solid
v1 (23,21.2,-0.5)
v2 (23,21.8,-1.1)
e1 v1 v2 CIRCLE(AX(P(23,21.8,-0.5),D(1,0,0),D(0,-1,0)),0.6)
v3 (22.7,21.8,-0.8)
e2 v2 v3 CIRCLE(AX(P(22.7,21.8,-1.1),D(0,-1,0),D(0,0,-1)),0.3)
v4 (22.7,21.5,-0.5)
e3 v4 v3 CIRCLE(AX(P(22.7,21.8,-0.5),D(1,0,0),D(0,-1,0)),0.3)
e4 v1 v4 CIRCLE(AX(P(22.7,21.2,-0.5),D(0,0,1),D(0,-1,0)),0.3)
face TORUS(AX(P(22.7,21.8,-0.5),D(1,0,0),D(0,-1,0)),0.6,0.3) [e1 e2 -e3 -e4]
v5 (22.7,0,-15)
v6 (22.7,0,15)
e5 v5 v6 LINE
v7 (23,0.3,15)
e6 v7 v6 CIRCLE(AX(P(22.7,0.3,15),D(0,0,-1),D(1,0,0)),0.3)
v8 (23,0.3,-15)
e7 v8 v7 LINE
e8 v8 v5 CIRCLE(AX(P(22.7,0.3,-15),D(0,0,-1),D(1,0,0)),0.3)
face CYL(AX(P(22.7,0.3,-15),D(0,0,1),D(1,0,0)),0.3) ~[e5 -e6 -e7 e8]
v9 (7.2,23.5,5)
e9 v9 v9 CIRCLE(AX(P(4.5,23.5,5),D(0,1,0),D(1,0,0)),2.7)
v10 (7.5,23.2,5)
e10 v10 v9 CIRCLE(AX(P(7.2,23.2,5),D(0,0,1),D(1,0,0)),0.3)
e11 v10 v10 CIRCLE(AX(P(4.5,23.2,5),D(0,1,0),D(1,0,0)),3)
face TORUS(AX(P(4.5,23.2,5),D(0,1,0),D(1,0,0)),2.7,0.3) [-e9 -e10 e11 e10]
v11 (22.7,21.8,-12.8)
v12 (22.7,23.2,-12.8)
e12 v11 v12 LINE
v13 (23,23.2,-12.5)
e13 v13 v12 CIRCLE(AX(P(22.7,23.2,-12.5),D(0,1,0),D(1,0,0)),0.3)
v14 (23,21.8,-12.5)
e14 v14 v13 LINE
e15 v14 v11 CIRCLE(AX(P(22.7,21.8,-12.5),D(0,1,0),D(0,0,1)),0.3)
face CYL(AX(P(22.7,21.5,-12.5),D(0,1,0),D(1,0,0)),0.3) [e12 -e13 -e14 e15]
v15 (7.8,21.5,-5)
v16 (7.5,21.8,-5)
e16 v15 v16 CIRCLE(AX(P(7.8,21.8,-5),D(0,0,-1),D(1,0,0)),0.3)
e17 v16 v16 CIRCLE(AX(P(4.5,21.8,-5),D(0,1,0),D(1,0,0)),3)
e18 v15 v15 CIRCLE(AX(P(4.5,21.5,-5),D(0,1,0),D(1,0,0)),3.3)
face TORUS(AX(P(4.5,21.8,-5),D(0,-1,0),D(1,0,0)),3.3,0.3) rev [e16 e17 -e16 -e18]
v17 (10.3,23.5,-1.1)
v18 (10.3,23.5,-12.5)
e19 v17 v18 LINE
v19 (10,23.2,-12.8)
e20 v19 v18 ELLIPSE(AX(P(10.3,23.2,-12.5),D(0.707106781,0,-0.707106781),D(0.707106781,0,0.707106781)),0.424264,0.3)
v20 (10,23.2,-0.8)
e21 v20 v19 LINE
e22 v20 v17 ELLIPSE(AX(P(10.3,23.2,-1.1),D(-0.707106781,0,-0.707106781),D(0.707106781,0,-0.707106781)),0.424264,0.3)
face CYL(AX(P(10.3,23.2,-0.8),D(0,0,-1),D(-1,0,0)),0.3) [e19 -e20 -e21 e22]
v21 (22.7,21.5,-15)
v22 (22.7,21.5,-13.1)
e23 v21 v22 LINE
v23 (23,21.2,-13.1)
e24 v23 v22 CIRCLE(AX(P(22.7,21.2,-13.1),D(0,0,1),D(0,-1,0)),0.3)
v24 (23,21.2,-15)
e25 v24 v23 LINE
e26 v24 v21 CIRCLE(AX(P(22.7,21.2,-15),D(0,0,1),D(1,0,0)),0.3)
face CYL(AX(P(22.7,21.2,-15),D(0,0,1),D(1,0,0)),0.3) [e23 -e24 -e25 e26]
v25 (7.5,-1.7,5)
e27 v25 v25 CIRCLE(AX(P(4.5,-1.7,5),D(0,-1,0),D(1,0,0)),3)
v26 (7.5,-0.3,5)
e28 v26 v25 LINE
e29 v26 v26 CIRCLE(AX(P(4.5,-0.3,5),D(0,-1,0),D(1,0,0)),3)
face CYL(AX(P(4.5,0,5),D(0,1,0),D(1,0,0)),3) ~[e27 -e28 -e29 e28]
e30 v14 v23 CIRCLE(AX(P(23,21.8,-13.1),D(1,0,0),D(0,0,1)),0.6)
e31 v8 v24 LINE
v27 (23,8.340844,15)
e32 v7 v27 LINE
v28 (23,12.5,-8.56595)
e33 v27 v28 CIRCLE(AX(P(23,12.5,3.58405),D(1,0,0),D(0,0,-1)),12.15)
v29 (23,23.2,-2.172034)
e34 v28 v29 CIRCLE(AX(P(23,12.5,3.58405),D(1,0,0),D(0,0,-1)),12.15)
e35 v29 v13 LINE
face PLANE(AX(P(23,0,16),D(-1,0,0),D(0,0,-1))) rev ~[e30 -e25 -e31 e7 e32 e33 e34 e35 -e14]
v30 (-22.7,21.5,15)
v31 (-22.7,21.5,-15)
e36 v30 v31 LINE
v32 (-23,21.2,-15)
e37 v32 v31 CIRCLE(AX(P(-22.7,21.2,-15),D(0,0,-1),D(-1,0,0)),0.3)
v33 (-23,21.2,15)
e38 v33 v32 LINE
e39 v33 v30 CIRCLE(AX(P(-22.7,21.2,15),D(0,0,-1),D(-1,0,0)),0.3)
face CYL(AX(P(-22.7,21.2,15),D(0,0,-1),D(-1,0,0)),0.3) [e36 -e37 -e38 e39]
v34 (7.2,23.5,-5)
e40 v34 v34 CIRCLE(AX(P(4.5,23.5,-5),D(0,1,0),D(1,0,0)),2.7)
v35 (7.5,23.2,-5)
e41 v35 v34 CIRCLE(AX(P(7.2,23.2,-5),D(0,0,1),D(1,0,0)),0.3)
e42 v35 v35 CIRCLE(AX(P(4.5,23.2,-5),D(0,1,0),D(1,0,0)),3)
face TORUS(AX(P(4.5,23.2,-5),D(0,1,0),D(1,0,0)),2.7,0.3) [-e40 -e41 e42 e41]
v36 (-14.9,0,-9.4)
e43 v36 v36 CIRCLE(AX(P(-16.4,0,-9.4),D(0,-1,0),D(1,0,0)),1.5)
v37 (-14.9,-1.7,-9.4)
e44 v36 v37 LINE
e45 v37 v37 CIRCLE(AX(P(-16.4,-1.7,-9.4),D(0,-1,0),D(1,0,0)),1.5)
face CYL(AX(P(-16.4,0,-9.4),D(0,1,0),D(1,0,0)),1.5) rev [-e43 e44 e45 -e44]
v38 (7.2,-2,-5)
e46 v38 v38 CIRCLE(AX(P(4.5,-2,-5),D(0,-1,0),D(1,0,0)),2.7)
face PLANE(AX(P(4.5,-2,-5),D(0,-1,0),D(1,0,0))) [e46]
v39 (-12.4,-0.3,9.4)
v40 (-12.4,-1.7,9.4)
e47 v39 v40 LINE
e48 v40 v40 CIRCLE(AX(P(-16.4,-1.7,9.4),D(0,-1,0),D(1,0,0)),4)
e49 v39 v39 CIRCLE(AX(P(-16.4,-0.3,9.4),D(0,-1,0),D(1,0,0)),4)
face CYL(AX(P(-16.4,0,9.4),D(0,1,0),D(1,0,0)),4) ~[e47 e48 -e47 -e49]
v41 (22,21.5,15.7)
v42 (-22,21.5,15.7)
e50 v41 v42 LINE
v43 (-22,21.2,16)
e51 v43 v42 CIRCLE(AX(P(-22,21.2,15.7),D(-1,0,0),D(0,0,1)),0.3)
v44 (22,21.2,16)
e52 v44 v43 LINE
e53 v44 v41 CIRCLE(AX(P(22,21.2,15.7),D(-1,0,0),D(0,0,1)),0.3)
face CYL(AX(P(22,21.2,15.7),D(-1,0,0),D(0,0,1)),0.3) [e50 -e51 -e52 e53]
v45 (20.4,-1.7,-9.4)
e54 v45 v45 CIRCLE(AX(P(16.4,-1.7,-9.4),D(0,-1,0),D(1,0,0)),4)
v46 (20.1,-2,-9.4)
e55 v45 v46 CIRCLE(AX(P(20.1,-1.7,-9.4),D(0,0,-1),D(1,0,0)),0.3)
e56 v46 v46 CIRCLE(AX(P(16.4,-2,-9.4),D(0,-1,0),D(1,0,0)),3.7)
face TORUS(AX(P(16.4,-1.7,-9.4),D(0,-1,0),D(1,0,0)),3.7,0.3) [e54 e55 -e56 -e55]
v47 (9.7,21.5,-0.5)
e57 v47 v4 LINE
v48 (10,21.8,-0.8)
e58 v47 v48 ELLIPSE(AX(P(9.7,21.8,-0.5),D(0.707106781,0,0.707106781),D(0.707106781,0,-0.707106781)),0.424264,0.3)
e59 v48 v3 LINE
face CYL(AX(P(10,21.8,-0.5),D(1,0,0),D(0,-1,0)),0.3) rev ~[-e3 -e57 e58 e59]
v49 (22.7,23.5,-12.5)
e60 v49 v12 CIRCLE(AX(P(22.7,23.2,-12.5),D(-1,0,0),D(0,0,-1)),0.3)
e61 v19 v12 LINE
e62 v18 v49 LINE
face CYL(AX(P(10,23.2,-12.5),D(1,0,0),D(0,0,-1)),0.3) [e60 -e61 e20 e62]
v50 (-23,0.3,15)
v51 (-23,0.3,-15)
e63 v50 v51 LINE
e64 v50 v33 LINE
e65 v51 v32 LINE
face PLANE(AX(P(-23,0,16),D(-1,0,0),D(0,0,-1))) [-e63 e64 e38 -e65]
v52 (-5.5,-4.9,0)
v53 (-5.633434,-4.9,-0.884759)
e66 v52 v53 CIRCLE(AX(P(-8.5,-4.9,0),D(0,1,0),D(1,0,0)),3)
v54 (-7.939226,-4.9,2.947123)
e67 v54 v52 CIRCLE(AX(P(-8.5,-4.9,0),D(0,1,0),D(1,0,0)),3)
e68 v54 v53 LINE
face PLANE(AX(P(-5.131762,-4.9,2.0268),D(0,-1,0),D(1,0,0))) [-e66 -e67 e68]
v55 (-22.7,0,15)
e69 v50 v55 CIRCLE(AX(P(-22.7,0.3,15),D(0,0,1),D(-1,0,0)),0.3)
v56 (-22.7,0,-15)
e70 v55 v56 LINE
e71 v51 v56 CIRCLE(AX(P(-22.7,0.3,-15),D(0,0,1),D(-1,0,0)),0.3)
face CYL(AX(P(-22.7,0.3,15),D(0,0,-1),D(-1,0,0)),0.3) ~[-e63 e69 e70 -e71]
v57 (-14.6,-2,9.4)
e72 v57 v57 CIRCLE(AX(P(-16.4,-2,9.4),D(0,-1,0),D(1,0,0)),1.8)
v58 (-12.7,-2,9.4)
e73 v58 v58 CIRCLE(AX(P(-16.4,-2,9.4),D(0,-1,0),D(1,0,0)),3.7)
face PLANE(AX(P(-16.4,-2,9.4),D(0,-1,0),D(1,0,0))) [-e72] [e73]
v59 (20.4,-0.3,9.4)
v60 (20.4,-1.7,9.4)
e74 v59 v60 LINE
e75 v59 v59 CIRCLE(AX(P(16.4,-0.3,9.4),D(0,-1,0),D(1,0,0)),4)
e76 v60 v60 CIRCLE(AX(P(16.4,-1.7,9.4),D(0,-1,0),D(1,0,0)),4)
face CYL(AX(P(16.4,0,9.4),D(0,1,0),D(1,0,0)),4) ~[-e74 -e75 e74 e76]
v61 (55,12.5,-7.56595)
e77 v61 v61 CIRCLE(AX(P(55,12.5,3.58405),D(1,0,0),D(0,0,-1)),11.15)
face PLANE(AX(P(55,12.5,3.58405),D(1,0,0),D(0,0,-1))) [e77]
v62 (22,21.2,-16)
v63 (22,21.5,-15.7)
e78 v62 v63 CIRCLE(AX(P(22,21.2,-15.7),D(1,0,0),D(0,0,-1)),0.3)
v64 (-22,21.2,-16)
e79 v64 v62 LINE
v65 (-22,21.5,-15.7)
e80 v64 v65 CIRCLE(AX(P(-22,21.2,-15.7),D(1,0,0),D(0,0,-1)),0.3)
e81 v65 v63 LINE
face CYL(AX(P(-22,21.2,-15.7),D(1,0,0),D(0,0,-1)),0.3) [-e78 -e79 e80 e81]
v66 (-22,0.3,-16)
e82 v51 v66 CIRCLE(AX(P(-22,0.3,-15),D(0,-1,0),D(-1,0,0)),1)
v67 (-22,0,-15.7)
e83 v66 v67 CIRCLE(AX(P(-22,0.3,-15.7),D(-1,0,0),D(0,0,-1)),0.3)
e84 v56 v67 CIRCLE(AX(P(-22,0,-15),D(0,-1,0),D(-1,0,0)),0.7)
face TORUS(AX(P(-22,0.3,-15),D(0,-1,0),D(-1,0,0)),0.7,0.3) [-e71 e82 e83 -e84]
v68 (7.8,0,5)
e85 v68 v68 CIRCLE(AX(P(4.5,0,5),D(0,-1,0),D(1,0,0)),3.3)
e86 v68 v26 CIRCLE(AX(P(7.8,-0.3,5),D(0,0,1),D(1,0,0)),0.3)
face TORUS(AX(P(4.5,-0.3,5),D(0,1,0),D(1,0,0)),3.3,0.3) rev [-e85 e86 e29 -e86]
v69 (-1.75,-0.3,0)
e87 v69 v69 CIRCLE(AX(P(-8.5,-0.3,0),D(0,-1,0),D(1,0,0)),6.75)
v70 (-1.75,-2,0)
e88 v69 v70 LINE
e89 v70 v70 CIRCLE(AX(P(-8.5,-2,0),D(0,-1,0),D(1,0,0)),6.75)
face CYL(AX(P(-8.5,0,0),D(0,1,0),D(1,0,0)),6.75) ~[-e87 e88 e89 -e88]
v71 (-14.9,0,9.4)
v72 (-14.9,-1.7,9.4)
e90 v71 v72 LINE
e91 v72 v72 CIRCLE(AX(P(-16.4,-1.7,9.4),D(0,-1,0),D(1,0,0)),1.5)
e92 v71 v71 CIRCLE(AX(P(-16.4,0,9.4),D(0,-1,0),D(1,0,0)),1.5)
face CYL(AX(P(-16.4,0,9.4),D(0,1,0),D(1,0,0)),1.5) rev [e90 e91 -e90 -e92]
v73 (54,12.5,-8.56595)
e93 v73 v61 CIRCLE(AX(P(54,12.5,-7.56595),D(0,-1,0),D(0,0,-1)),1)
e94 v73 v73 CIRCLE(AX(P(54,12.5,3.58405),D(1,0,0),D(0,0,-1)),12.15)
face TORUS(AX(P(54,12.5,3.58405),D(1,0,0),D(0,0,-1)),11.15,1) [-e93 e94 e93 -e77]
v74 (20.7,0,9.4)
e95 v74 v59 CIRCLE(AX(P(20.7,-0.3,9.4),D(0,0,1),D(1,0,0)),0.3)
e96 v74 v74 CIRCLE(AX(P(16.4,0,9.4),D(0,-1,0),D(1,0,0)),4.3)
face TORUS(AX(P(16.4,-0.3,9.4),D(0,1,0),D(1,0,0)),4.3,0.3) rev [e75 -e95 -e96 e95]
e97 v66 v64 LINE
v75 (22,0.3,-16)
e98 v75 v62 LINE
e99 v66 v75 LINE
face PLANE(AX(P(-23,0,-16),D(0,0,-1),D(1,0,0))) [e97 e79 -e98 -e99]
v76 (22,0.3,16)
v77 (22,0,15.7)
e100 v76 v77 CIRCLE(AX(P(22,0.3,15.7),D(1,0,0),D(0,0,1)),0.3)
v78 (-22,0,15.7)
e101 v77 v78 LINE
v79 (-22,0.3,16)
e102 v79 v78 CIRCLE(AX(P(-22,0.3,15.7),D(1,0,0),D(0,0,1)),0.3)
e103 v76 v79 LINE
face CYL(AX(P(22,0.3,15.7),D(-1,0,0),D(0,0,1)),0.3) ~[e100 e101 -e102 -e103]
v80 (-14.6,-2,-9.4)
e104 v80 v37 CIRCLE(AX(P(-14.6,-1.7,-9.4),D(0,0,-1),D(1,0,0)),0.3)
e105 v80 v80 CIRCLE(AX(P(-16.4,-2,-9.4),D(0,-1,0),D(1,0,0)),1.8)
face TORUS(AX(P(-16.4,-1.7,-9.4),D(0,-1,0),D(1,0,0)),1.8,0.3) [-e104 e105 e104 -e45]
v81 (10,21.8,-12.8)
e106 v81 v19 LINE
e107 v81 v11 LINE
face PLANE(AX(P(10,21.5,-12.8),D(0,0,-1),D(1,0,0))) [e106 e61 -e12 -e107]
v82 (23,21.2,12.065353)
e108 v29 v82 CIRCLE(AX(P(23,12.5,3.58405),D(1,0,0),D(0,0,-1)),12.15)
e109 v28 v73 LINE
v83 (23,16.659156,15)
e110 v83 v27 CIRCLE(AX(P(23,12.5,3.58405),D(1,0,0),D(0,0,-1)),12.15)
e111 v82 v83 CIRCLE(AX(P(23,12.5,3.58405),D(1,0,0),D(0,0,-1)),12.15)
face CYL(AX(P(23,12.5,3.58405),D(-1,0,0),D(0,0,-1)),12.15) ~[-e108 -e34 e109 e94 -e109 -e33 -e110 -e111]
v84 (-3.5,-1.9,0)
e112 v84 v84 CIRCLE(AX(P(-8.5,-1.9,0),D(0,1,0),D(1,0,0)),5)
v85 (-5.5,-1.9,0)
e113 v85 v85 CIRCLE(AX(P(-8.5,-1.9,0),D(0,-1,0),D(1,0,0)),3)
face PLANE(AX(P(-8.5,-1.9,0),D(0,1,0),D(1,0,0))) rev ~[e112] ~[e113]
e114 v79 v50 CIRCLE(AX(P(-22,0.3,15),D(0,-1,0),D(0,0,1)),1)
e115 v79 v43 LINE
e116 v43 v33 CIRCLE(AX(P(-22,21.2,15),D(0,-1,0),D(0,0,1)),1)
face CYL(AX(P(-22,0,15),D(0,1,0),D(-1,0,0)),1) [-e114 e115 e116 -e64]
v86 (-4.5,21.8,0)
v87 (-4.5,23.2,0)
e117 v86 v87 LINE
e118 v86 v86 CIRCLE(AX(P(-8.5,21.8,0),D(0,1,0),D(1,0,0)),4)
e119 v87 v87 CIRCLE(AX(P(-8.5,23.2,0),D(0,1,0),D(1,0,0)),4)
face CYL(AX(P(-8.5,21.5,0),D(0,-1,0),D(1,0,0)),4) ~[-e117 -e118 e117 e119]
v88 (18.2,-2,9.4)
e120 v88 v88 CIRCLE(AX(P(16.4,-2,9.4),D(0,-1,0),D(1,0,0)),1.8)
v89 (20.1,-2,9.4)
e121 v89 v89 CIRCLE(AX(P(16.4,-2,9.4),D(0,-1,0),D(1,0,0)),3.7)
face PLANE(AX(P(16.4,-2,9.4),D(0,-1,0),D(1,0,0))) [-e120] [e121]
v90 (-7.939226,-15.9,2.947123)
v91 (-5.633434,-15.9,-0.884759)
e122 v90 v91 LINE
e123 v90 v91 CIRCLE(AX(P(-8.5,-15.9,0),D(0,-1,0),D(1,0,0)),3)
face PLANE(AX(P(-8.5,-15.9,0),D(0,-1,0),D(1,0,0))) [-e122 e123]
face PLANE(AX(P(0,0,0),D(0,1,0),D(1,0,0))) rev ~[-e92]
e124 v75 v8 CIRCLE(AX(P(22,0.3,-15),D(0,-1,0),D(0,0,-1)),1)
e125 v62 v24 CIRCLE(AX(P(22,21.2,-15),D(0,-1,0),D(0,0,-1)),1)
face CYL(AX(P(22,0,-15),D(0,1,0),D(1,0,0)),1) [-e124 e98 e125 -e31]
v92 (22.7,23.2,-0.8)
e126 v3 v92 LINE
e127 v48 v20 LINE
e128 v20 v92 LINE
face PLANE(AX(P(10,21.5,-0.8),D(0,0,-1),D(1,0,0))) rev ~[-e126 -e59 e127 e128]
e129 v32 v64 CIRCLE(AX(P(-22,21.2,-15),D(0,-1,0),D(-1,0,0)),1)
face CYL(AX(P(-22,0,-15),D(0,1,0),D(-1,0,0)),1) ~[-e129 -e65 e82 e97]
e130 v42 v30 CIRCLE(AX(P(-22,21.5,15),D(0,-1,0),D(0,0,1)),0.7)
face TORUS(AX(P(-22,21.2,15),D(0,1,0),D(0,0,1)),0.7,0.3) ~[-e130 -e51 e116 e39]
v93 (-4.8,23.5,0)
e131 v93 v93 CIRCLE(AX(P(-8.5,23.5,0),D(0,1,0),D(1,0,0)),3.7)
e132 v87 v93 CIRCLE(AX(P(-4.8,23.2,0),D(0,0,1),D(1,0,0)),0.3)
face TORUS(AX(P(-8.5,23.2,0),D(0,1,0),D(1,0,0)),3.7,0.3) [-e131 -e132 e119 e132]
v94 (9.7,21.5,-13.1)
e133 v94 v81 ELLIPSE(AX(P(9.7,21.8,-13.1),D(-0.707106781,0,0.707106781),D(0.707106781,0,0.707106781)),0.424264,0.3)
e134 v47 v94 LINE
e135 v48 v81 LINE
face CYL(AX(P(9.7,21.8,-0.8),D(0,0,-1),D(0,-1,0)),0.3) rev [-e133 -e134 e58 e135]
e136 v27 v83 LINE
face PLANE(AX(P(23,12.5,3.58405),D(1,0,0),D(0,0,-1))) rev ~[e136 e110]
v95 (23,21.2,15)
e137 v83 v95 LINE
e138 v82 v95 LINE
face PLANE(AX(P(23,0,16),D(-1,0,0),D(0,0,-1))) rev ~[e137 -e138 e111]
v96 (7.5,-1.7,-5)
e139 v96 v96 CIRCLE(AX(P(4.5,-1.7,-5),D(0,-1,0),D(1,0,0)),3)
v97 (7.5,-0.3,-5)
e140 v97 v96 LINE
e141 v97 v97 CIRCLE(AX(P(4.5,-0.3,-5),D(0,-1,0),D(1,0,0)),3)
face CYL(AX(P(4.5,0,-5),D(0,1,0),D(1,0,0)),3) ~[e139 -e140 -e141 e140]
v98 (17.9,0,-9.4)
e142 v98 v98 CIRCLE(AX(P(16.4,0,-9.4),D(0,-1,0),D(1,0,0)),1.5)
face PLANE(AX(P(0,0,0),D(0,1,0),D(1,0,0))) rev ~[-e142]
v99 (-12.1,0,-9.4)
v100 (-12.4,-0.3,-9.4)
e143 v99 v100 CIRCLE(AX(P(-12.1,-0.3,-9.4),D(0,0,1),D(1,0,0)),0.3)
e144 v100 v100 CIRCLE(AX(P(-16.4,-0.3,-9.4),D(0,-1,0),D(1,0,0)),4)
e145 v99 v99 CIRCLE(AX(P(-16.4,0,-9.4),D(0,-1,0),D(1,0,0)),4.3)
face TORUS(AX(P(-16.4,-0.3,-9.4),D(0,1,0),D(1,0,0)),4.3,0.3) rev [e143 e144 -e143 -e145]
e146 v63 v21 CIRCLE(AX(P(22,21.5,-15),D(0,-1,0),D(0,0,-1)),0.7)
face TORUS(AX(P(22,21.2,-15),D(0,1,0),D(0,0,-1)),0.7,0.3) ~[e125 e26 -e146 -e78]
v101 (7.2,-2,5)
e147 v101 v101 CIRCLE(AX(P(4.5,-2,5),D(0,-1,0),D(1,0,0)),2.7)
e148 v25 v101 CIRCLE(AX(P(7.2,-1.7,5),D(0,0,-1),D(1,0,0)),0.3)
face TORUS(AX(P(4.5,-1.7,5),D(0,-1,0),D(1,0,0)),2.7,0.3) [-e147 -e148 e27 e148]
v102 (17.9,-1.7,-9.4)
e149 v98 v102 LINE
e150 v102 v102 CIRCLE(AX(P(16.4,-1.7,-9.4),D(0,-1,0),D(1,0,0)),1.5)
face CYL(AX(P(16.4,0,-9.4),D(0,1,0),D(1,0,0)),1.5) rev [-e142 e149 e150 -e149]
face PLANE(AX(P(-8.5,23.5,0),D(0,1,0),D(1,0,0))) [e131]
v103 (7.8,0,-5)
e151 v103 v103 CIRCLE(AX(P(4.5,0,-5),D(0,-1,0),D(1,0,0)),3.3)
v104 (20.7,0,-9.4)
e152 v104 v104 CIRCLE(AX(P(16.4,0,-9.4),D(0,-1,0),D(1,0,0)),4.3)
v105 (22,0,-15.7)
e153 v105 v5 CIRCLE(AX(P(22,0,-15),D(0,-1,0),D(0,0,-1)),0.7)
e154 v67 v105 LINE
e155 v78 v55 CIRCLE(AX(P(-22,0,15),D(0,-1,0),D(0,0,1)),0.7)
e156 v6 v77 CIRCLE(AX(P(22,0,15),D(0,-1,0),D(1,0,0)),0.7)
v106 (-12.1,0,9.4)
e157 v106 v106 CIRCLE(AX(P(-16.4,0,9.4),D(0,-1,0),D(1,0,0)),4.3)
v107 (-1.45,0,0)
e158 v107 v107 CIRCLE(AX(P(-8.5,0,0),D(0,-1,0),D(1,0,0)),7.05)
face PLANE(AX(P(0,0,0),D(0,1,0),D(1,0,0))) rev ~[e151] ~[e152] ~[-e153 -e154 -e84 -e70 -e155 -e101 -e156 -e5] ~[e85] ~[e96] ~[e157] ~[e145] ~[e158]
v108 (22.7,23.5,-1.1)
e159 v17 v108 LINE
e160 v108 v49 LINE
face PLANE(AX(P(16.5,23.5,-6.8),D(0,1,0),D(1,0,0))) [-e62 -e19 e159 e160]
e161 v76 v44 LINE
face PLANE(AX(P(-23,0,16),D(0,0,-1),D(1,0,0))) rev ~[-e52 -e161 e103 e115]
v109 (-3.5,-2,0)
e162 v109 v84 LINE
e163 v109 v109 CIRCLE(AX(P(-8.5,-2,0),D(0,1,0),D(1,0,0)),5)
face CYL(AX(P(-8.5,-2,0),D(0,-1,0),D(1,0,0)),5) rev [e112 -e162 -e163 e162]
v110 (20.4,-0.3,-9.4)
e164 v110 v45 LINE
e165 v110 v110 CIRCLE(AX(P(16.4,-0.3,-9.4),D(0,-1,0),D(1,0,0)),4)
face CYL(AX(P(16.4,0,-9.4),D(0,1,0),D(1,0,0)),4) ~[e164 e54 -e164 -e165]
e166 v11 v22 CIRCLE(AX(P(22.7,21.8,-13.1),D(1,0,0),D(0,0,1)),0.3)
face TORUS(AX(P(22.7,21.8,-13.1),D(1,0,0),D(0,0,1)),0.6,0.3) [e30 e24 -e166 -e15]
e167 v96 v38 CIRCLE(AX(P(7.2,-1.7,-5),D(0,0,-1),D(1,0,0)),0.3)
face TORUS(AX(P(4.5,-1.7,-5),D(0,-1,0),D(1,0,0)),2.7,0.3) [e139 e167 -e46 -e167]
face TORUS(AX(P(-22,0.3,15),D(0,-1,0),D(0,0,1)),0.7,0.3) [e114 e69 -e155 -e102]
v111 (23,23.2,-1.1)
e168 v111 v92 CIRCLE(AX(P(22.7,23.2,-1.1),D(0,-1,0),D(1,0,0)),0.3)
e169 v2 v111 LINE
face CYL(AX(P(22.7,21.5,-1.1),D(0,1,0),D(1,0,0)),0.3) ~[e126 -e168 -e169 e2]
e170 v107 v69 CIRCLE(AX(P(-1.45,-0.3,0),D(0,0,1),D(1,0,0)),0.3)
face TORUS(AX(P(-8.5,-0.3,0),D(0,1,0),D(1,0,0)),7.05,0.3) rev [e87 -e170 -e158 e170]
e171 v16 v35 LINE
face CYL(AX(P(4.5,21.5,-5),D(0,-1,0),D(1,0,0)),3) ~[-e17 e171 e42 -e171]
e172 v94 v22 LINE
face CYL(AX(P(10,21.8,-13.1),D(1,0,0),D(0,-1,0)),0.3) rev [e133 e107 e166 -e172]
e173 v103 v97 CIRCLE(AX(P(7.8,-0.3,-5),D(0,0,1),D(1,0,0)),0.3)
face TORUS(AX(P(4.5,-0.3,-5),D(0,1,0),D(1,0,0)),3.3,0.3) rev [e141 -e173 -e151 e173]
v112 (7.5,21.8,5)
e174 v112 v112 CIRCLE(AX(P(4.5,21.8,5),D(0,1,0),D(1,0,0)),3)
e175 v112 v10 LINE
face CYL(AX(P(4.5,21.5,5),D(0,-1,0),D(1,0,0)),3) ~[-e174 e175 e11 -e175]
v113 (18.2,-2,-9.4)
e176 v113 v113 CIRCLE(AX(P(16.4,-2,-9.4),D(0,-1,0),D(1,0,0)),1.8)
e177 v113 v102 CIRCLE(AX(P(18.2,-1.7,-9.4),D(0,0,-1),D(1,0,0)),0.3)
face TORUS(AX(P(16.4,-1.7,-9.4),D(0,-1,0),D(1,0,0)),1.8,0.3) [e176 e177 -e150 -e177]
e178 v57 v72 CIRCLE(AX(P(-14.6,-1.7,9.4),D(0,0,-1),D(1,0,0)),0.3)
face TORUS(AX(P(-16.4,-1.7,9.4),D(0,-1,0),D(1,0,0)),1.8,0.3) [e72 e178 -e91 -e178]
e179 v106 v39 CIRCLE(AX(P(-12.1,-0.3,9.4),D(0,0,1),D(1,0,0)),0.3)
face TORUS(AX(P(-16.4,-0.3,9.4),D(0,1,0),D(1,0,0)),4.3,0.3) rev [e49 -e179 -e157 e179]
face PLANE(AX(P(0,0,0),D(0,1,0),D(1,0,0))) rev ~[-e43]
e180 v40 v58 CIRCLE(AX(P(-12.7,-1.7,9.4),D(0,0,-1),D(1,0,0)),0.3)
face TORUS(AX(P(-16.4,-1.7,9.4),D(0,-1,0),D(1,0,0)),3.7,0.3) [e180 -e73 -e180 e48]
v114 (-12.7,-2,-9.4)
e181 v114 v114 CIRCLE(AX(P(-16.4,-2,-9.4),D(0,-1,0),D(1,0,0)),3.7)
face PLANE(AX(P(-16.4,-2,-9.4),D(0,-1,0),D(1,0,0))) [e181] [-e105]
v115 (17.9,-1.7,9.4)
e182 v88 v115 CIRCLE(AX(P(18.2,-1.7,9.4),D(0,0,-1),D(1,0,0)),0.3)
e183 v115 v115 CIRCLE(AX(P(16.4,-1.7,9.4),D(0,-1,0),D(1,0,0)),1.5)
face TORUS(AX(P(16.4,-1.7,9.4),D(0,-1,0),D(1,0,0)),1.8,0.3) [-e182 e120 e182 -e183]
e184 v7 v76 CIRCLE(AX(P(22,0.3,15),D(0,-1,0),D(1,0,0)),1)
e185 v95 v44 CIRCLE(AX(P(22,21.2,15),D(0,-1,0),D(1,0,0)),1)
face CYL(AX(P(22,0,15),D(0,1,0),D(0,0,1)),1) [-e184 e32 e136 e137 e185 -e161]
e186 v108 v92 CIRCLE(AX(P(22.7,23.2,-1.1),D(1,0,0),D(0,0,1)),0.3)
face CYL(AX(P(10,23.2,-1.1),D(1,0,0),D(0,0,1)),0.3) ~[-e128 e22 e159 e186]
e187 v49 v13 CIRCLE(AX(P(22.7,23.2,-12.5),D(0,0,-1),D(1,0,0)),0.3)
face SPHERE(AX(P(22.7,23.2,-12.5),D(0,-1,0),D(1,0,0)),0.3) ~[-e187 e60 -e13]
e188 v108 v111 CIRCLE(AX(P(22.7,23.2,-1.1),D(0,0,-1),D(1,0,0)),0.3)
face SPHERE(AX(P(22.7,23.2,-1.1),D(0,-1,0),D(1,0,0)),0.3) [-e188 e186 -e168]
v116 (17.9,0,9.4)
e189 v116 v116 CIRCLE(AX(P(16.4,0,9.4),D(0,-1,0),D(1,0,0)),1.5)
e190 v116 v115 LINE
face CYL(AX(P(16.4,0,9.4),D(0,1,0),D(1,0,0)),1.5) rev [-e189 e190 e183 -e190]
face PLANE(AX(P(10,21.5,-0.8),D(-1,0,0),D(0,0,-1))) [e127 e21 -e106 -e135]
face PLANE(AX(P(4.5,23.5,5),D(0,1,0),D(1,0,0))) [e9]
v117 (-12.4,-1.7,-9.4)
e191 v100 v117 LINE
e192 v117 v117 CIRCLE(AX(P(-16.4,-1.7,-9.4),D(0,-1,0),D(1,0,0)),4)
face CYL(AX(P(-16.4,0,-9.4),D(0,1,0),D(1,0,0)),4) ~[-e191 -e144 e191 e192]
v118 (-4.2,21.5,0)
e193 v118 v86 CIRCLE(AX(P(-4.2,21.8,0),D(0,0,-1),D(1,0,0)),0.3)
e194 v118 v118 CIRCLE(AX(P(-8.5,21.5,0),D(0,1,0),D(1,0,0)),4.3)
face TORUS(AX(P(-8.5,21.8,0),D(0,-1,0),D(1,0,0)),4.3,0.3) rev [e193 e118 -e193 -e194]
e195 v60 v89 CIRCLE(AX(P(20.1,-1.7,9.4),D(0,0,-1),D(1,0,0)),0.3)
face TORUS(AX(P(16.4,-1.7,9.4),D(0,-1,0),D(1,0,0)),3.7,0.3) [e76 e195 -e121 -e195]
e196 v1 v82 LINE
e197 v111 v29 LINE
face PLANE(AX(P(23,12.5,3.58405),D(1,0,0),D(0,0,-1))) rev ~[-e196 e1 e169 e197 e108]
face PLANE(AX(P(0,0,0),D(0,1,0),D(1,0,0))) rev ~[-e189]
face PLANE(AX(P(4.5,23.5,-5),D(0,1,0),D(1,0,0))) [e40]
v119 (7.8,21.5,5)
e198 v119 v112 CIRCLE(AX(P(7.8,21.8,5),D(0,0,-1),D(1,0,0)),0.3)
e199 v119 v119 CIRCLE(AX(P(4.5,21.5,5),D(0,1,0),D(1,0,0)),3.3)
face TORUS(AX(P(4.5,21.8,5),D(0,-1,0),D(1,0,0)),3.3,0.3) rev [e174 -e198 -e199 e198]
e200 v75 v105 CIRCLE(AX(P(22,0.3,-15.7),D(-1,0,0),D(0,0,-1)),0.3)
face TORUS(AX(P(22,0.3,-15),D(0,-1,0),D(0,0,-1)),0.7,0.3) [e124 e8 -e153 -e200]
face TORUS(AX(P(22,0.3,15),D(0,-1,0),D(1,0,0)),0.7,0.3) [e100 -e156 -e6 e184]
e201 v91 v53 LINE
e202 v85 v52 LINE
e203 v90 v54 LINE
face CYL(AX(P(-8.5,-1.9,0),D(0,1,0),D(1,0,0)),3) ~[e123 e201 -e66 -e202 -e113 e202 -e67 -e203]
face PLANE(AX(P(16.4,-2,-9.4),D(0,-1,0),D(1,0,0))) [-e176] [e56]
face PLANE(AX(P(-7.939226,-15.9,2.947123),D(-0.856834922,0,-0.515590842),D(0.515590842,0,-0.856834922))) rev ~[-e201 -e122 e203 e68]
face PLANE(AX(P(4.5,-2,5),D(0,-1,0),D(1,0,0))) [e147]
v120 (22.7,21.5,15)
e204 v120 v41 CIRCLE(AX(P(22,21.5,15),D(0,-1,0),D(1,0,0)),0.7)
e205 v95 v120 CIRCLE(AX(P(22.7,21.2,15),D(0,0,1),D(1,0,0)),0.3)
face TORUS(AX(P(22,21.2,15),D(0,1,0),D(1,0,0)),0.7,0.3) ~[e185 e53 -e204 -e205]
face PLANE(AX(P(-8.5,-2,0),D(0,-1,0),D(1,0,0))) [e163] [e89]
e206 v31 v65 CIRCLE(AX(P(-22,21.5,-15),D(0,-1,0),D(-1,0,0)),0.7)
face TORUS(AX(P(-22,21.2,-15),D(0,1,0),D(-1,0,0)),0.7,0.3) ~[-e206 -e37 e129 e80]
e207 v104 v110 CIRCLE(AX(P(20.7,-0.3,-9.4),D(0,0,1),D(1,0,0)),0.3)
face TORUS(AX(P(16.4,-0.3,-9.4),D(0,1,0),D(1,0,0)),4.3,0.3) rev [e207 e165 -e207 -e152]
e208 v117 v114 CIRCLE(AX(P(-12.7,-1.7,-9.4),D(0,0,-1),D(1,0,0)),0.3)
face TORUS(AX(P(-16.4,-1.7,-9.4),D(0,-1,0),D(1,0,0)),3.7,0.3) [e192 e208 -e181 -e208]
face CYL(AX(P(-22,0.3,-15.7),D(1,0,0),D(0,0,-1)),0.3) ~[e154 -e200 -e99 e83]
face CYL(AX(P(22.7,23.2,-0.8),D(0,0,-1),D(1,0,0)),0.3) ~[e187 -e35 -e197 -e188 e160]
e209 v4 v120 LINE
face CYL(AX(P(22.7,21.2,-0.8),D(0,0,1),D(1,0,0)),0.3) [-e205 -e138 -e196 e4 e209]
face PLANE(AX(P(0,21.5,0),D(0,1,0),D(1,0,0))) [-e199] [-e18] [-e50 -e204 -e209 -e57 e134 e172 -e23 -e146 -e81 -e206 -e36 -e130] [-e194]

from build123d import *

# Parameters (mm, degrees)
SKETCH1_W           = 46
SKETCH1_H           = 32
BOSS_EXTRUDE1_DEPTH = 21.5
FILLET1_R           = 1
SKETCH2_W           = 13
SKETCH2_H           = 12
BOSS_EXTRUDE2_DEPTH = 2
SKETCH3_R           = 4
SKETCH3_R_2         = 3
BOSS_EXTRUDE3_DEPTH = 2
SKETCH4_R           = 6.75
SKETCH4_R_2         = 4
SKETCH4_R_3         = 1.5
SKETCH4_R_4         = 3
BOSS_EXTRUDE4_DEPTH = 2
FILLET2_R           = 0.3
SKETCH5_R           = 12.15
BOSS_EXTRUDE5_DEPTH = 32
FILLET3_R           = 1
SKETCH6_R           = 5
CUT_EXTRUDE1_DEPTH  = 0.1
SKETCH7_R           = 3
BOSS_EXTRUDE6_DEPTH = 14
CUT_EXTRUDE2_DEPTH  = 11


with BuildPart() as part:
    # Sketch1 → Boss-Extrude1 (new body)
    with BuildSketch(Plane(origin=(0, 0, 0), x_dir=(1, 0, 0), z_dir=(0, 1, 0))):
        Rectangle(SKETCH1_W, SKETCH1_H)
    extrude(amount=BOSS_EXTRUDE1_DEPTH)

    # Fillet1
    fillet1_edges = [part.edges().sort_by_distance(p)[0] for p in [
        (23, 10.75, 16),
        (-23, 10.75, 16),
        (-23, 10.75, -16),
        (23, 10.75, -16),
    ]]
    fillet(fillet1_edges, radius=FILLET1_R)

    # Sketch2 → Boss-Extrude2 (add)
    with BuildSketch(Plane(origin=(0, 21.5, 0), x_dir=(1, 0, 0), z_dir=(0, 1, 0))):
        with Locations((16.5, 6.8)):
            Rectangle(SKETCH2_W, SKETCH2_H)
    extrude(amount=BOSS_EXTRUDE2_DEPTH)

    # Sketch3 → Boss-Extrude3 (add)
    with BuildSketch(Plane(origin=(0, 21.5, 0), x_dir=(1, 0, 0), z_dir=(0, 1, 0))):
        with Locations((-8.5, 0)):
            Circle(SKETCH3_R)
        with Locations((4.5, 5)):
            Circle(SKETCH3_R_2)
        with Locations((4.5, -5)):
            Circle(SKETCH3_R_2)
    extrude(amount=BOSS_EXTRUDE3_DEPTH)

    # Sketch4 → Boss-Extrude4 (add)
    with BuildSketch(Plane.XZ):
        with Locations((-8.5, 0)):
            Circle(SKETCH4_R)
        with Locations((-16.4, 9.4)):
            Circle(SKETCH4_R_2)
        with Locations((-16.4, 9.4)):
            Circle(SKETCH4_R_3, mode=Mode.SUBTRACT)
        with Locations((-16.4, -9.4)):
            Circle(SKETCH4_R_2)
        with Locations((-16.4, -9.4)):
            Circle(SKETCH4_R_3, mode=Mode.SUBTRACT)
        with Locations((16.4, -9.4)):
            Circle(SKETCH4_R_2)
        with Locations((16.4, -9.4)):
            Circle(SKETCH4_R_3, mode=Mode.SUBTRACT)
        with Locations((16.4, 9.4)):
            Circle(SKETCH4_R_2)
        with Locations((16.4, 9.4)):
            Circle(SKETCH4_R_3, mode=Mode.SUBTRACT)
        with Locations((4.5, 5)):
            Circle(SKETCH4_R_4)
        with Locations((4.5, -5)):
            Circle(SKETCH4_R_4)
    extrude(amount=BOSS_EXTRUDE4_DEPTH)

    # Fillet2
    fillet2_edges = [part.edges().sort_by_distance(p)[0] for p in [
        (1.5, 0, -5),
        (1.5, -2, -5),
        (-23, 0, 0),
        (-23, 21.5, 0),
        (23, 0, 0),
        (0, 0, 16),
        (0, 0, -16),
        (22.707106781, 0, 15.707106781),
        (22.707106781, 0, -15.707106781),
        (-22.707106781, 0, 15.707106781),
        (-22.707106781, 0, -15.707106781),
        (0, 21.5, -16),
        (23, 21.5, 7.1),
        (0, 21.5, 16),
        (22.707106781, 21.5, 15.707106781),
        (22.707106781, 21.5, -15.707106781),
        (-22.707106781, 21.5, 15.707106781),
        (-22.707106781, 21.5, -15.707106781),
        (23, 21.5, -13.9),
        (23, 22.5, -0.8),
        (16.5, 21.5, -12.8),
        (23, 22.5, -12.8),
        (10, 21.5, -6.8),
        (16.5, 21.5, -0.8),
        (23, 23.5, -6.8),
        (16.5, 23.5, -12.8),
        (10, 23.5, -6.8),
        (16.5, 23.5, -0.8),
        (-12.5, 21.5, 0),
        (-12.5, 23.5, 0),
        (1.5, 21.5, -5),
        (1.5, 23.5, -5),
        (1.5, 21.5, 5),
        (1.5, 23.5, 5),
        (-15.25, 0, 0),
        (-20.4, 0, 9.4),
        (-20.4, -2, 9.4),
        (-17.9, -2, 9.4),
        (-20.4, 0, -9.4),
        (-20.4, -2, -9.4),
        (-17.9, -2, -9.4),
        (12.4, 0, -9.4),
        (12.4, -2, -9.4),
        (14.9, -2, -9.4),
        (12.4, 0, 9.4),
        (12.4, -2, 9.4),
        (14.9, -2, 9.4),
        (1.5, 0, 5),
        (1.5, -2, 5),
    ]]
    fillet(fillet2_edges, radius=FILLET2_R)

    # Sketch5 → Boss-Extrude5 (add)
    with BuildSketch(Plane(origin=(23, 0, 0), x_dir=(0, 0, -1), z_dir=(1, 0, 0))):
        with Locations((-3.584049663, 12.5)):
            Circle(SKETCH5_R)
    extrude(amount=BOSS_EXTRUDE5_DEPTH)

    # Fillet3
    fillet3_edges = [part.edges().sort_by_distance(p)[0] for p in [
        (55, 12.5, 15.734049663),
    ]]
    fillet(fillet3_edges, radius=FILLET3_R)

    # Sketch6 → Cut-Extrude1 (cut)
    with BuildSketch(Plane(origin=(0, -2, 0), x_dir=(1, 0, 0), z_dir=(0, 1, 0))):
        with Locations((-8.5, 0)):
            Circle(SKETCH6_R)
    extrude(amount=CUT_EXTRUDE1_DEPTH, mode=Mode.SUBTRACT)

    # Sketch7 → Boss-Extrude6 (add)
    with BuildSketch(Plane.XZ.offset(1.9)):
        with Locations((-8.5, 0)):
            Circle(SKETCH7_R)
    extrude(amount=BOSS_EXTRUDE6_DEPTH)

    # Sketch8 → Cut-Extrude2 (cut)
    with BuildSketch(Plane.XZ.offset(15.9)):
        Polygon((-7.939226328, 2.947122815), (-5.633433984, -0.884759447), (-2.324296826, 1.10647687), (-4.630089169, 4.938359132), align=None)
    extrude(amount=-CUT_EXTRUDE2_DEPTH, mode=Mode.SUBTRACT)


solid = part.part
